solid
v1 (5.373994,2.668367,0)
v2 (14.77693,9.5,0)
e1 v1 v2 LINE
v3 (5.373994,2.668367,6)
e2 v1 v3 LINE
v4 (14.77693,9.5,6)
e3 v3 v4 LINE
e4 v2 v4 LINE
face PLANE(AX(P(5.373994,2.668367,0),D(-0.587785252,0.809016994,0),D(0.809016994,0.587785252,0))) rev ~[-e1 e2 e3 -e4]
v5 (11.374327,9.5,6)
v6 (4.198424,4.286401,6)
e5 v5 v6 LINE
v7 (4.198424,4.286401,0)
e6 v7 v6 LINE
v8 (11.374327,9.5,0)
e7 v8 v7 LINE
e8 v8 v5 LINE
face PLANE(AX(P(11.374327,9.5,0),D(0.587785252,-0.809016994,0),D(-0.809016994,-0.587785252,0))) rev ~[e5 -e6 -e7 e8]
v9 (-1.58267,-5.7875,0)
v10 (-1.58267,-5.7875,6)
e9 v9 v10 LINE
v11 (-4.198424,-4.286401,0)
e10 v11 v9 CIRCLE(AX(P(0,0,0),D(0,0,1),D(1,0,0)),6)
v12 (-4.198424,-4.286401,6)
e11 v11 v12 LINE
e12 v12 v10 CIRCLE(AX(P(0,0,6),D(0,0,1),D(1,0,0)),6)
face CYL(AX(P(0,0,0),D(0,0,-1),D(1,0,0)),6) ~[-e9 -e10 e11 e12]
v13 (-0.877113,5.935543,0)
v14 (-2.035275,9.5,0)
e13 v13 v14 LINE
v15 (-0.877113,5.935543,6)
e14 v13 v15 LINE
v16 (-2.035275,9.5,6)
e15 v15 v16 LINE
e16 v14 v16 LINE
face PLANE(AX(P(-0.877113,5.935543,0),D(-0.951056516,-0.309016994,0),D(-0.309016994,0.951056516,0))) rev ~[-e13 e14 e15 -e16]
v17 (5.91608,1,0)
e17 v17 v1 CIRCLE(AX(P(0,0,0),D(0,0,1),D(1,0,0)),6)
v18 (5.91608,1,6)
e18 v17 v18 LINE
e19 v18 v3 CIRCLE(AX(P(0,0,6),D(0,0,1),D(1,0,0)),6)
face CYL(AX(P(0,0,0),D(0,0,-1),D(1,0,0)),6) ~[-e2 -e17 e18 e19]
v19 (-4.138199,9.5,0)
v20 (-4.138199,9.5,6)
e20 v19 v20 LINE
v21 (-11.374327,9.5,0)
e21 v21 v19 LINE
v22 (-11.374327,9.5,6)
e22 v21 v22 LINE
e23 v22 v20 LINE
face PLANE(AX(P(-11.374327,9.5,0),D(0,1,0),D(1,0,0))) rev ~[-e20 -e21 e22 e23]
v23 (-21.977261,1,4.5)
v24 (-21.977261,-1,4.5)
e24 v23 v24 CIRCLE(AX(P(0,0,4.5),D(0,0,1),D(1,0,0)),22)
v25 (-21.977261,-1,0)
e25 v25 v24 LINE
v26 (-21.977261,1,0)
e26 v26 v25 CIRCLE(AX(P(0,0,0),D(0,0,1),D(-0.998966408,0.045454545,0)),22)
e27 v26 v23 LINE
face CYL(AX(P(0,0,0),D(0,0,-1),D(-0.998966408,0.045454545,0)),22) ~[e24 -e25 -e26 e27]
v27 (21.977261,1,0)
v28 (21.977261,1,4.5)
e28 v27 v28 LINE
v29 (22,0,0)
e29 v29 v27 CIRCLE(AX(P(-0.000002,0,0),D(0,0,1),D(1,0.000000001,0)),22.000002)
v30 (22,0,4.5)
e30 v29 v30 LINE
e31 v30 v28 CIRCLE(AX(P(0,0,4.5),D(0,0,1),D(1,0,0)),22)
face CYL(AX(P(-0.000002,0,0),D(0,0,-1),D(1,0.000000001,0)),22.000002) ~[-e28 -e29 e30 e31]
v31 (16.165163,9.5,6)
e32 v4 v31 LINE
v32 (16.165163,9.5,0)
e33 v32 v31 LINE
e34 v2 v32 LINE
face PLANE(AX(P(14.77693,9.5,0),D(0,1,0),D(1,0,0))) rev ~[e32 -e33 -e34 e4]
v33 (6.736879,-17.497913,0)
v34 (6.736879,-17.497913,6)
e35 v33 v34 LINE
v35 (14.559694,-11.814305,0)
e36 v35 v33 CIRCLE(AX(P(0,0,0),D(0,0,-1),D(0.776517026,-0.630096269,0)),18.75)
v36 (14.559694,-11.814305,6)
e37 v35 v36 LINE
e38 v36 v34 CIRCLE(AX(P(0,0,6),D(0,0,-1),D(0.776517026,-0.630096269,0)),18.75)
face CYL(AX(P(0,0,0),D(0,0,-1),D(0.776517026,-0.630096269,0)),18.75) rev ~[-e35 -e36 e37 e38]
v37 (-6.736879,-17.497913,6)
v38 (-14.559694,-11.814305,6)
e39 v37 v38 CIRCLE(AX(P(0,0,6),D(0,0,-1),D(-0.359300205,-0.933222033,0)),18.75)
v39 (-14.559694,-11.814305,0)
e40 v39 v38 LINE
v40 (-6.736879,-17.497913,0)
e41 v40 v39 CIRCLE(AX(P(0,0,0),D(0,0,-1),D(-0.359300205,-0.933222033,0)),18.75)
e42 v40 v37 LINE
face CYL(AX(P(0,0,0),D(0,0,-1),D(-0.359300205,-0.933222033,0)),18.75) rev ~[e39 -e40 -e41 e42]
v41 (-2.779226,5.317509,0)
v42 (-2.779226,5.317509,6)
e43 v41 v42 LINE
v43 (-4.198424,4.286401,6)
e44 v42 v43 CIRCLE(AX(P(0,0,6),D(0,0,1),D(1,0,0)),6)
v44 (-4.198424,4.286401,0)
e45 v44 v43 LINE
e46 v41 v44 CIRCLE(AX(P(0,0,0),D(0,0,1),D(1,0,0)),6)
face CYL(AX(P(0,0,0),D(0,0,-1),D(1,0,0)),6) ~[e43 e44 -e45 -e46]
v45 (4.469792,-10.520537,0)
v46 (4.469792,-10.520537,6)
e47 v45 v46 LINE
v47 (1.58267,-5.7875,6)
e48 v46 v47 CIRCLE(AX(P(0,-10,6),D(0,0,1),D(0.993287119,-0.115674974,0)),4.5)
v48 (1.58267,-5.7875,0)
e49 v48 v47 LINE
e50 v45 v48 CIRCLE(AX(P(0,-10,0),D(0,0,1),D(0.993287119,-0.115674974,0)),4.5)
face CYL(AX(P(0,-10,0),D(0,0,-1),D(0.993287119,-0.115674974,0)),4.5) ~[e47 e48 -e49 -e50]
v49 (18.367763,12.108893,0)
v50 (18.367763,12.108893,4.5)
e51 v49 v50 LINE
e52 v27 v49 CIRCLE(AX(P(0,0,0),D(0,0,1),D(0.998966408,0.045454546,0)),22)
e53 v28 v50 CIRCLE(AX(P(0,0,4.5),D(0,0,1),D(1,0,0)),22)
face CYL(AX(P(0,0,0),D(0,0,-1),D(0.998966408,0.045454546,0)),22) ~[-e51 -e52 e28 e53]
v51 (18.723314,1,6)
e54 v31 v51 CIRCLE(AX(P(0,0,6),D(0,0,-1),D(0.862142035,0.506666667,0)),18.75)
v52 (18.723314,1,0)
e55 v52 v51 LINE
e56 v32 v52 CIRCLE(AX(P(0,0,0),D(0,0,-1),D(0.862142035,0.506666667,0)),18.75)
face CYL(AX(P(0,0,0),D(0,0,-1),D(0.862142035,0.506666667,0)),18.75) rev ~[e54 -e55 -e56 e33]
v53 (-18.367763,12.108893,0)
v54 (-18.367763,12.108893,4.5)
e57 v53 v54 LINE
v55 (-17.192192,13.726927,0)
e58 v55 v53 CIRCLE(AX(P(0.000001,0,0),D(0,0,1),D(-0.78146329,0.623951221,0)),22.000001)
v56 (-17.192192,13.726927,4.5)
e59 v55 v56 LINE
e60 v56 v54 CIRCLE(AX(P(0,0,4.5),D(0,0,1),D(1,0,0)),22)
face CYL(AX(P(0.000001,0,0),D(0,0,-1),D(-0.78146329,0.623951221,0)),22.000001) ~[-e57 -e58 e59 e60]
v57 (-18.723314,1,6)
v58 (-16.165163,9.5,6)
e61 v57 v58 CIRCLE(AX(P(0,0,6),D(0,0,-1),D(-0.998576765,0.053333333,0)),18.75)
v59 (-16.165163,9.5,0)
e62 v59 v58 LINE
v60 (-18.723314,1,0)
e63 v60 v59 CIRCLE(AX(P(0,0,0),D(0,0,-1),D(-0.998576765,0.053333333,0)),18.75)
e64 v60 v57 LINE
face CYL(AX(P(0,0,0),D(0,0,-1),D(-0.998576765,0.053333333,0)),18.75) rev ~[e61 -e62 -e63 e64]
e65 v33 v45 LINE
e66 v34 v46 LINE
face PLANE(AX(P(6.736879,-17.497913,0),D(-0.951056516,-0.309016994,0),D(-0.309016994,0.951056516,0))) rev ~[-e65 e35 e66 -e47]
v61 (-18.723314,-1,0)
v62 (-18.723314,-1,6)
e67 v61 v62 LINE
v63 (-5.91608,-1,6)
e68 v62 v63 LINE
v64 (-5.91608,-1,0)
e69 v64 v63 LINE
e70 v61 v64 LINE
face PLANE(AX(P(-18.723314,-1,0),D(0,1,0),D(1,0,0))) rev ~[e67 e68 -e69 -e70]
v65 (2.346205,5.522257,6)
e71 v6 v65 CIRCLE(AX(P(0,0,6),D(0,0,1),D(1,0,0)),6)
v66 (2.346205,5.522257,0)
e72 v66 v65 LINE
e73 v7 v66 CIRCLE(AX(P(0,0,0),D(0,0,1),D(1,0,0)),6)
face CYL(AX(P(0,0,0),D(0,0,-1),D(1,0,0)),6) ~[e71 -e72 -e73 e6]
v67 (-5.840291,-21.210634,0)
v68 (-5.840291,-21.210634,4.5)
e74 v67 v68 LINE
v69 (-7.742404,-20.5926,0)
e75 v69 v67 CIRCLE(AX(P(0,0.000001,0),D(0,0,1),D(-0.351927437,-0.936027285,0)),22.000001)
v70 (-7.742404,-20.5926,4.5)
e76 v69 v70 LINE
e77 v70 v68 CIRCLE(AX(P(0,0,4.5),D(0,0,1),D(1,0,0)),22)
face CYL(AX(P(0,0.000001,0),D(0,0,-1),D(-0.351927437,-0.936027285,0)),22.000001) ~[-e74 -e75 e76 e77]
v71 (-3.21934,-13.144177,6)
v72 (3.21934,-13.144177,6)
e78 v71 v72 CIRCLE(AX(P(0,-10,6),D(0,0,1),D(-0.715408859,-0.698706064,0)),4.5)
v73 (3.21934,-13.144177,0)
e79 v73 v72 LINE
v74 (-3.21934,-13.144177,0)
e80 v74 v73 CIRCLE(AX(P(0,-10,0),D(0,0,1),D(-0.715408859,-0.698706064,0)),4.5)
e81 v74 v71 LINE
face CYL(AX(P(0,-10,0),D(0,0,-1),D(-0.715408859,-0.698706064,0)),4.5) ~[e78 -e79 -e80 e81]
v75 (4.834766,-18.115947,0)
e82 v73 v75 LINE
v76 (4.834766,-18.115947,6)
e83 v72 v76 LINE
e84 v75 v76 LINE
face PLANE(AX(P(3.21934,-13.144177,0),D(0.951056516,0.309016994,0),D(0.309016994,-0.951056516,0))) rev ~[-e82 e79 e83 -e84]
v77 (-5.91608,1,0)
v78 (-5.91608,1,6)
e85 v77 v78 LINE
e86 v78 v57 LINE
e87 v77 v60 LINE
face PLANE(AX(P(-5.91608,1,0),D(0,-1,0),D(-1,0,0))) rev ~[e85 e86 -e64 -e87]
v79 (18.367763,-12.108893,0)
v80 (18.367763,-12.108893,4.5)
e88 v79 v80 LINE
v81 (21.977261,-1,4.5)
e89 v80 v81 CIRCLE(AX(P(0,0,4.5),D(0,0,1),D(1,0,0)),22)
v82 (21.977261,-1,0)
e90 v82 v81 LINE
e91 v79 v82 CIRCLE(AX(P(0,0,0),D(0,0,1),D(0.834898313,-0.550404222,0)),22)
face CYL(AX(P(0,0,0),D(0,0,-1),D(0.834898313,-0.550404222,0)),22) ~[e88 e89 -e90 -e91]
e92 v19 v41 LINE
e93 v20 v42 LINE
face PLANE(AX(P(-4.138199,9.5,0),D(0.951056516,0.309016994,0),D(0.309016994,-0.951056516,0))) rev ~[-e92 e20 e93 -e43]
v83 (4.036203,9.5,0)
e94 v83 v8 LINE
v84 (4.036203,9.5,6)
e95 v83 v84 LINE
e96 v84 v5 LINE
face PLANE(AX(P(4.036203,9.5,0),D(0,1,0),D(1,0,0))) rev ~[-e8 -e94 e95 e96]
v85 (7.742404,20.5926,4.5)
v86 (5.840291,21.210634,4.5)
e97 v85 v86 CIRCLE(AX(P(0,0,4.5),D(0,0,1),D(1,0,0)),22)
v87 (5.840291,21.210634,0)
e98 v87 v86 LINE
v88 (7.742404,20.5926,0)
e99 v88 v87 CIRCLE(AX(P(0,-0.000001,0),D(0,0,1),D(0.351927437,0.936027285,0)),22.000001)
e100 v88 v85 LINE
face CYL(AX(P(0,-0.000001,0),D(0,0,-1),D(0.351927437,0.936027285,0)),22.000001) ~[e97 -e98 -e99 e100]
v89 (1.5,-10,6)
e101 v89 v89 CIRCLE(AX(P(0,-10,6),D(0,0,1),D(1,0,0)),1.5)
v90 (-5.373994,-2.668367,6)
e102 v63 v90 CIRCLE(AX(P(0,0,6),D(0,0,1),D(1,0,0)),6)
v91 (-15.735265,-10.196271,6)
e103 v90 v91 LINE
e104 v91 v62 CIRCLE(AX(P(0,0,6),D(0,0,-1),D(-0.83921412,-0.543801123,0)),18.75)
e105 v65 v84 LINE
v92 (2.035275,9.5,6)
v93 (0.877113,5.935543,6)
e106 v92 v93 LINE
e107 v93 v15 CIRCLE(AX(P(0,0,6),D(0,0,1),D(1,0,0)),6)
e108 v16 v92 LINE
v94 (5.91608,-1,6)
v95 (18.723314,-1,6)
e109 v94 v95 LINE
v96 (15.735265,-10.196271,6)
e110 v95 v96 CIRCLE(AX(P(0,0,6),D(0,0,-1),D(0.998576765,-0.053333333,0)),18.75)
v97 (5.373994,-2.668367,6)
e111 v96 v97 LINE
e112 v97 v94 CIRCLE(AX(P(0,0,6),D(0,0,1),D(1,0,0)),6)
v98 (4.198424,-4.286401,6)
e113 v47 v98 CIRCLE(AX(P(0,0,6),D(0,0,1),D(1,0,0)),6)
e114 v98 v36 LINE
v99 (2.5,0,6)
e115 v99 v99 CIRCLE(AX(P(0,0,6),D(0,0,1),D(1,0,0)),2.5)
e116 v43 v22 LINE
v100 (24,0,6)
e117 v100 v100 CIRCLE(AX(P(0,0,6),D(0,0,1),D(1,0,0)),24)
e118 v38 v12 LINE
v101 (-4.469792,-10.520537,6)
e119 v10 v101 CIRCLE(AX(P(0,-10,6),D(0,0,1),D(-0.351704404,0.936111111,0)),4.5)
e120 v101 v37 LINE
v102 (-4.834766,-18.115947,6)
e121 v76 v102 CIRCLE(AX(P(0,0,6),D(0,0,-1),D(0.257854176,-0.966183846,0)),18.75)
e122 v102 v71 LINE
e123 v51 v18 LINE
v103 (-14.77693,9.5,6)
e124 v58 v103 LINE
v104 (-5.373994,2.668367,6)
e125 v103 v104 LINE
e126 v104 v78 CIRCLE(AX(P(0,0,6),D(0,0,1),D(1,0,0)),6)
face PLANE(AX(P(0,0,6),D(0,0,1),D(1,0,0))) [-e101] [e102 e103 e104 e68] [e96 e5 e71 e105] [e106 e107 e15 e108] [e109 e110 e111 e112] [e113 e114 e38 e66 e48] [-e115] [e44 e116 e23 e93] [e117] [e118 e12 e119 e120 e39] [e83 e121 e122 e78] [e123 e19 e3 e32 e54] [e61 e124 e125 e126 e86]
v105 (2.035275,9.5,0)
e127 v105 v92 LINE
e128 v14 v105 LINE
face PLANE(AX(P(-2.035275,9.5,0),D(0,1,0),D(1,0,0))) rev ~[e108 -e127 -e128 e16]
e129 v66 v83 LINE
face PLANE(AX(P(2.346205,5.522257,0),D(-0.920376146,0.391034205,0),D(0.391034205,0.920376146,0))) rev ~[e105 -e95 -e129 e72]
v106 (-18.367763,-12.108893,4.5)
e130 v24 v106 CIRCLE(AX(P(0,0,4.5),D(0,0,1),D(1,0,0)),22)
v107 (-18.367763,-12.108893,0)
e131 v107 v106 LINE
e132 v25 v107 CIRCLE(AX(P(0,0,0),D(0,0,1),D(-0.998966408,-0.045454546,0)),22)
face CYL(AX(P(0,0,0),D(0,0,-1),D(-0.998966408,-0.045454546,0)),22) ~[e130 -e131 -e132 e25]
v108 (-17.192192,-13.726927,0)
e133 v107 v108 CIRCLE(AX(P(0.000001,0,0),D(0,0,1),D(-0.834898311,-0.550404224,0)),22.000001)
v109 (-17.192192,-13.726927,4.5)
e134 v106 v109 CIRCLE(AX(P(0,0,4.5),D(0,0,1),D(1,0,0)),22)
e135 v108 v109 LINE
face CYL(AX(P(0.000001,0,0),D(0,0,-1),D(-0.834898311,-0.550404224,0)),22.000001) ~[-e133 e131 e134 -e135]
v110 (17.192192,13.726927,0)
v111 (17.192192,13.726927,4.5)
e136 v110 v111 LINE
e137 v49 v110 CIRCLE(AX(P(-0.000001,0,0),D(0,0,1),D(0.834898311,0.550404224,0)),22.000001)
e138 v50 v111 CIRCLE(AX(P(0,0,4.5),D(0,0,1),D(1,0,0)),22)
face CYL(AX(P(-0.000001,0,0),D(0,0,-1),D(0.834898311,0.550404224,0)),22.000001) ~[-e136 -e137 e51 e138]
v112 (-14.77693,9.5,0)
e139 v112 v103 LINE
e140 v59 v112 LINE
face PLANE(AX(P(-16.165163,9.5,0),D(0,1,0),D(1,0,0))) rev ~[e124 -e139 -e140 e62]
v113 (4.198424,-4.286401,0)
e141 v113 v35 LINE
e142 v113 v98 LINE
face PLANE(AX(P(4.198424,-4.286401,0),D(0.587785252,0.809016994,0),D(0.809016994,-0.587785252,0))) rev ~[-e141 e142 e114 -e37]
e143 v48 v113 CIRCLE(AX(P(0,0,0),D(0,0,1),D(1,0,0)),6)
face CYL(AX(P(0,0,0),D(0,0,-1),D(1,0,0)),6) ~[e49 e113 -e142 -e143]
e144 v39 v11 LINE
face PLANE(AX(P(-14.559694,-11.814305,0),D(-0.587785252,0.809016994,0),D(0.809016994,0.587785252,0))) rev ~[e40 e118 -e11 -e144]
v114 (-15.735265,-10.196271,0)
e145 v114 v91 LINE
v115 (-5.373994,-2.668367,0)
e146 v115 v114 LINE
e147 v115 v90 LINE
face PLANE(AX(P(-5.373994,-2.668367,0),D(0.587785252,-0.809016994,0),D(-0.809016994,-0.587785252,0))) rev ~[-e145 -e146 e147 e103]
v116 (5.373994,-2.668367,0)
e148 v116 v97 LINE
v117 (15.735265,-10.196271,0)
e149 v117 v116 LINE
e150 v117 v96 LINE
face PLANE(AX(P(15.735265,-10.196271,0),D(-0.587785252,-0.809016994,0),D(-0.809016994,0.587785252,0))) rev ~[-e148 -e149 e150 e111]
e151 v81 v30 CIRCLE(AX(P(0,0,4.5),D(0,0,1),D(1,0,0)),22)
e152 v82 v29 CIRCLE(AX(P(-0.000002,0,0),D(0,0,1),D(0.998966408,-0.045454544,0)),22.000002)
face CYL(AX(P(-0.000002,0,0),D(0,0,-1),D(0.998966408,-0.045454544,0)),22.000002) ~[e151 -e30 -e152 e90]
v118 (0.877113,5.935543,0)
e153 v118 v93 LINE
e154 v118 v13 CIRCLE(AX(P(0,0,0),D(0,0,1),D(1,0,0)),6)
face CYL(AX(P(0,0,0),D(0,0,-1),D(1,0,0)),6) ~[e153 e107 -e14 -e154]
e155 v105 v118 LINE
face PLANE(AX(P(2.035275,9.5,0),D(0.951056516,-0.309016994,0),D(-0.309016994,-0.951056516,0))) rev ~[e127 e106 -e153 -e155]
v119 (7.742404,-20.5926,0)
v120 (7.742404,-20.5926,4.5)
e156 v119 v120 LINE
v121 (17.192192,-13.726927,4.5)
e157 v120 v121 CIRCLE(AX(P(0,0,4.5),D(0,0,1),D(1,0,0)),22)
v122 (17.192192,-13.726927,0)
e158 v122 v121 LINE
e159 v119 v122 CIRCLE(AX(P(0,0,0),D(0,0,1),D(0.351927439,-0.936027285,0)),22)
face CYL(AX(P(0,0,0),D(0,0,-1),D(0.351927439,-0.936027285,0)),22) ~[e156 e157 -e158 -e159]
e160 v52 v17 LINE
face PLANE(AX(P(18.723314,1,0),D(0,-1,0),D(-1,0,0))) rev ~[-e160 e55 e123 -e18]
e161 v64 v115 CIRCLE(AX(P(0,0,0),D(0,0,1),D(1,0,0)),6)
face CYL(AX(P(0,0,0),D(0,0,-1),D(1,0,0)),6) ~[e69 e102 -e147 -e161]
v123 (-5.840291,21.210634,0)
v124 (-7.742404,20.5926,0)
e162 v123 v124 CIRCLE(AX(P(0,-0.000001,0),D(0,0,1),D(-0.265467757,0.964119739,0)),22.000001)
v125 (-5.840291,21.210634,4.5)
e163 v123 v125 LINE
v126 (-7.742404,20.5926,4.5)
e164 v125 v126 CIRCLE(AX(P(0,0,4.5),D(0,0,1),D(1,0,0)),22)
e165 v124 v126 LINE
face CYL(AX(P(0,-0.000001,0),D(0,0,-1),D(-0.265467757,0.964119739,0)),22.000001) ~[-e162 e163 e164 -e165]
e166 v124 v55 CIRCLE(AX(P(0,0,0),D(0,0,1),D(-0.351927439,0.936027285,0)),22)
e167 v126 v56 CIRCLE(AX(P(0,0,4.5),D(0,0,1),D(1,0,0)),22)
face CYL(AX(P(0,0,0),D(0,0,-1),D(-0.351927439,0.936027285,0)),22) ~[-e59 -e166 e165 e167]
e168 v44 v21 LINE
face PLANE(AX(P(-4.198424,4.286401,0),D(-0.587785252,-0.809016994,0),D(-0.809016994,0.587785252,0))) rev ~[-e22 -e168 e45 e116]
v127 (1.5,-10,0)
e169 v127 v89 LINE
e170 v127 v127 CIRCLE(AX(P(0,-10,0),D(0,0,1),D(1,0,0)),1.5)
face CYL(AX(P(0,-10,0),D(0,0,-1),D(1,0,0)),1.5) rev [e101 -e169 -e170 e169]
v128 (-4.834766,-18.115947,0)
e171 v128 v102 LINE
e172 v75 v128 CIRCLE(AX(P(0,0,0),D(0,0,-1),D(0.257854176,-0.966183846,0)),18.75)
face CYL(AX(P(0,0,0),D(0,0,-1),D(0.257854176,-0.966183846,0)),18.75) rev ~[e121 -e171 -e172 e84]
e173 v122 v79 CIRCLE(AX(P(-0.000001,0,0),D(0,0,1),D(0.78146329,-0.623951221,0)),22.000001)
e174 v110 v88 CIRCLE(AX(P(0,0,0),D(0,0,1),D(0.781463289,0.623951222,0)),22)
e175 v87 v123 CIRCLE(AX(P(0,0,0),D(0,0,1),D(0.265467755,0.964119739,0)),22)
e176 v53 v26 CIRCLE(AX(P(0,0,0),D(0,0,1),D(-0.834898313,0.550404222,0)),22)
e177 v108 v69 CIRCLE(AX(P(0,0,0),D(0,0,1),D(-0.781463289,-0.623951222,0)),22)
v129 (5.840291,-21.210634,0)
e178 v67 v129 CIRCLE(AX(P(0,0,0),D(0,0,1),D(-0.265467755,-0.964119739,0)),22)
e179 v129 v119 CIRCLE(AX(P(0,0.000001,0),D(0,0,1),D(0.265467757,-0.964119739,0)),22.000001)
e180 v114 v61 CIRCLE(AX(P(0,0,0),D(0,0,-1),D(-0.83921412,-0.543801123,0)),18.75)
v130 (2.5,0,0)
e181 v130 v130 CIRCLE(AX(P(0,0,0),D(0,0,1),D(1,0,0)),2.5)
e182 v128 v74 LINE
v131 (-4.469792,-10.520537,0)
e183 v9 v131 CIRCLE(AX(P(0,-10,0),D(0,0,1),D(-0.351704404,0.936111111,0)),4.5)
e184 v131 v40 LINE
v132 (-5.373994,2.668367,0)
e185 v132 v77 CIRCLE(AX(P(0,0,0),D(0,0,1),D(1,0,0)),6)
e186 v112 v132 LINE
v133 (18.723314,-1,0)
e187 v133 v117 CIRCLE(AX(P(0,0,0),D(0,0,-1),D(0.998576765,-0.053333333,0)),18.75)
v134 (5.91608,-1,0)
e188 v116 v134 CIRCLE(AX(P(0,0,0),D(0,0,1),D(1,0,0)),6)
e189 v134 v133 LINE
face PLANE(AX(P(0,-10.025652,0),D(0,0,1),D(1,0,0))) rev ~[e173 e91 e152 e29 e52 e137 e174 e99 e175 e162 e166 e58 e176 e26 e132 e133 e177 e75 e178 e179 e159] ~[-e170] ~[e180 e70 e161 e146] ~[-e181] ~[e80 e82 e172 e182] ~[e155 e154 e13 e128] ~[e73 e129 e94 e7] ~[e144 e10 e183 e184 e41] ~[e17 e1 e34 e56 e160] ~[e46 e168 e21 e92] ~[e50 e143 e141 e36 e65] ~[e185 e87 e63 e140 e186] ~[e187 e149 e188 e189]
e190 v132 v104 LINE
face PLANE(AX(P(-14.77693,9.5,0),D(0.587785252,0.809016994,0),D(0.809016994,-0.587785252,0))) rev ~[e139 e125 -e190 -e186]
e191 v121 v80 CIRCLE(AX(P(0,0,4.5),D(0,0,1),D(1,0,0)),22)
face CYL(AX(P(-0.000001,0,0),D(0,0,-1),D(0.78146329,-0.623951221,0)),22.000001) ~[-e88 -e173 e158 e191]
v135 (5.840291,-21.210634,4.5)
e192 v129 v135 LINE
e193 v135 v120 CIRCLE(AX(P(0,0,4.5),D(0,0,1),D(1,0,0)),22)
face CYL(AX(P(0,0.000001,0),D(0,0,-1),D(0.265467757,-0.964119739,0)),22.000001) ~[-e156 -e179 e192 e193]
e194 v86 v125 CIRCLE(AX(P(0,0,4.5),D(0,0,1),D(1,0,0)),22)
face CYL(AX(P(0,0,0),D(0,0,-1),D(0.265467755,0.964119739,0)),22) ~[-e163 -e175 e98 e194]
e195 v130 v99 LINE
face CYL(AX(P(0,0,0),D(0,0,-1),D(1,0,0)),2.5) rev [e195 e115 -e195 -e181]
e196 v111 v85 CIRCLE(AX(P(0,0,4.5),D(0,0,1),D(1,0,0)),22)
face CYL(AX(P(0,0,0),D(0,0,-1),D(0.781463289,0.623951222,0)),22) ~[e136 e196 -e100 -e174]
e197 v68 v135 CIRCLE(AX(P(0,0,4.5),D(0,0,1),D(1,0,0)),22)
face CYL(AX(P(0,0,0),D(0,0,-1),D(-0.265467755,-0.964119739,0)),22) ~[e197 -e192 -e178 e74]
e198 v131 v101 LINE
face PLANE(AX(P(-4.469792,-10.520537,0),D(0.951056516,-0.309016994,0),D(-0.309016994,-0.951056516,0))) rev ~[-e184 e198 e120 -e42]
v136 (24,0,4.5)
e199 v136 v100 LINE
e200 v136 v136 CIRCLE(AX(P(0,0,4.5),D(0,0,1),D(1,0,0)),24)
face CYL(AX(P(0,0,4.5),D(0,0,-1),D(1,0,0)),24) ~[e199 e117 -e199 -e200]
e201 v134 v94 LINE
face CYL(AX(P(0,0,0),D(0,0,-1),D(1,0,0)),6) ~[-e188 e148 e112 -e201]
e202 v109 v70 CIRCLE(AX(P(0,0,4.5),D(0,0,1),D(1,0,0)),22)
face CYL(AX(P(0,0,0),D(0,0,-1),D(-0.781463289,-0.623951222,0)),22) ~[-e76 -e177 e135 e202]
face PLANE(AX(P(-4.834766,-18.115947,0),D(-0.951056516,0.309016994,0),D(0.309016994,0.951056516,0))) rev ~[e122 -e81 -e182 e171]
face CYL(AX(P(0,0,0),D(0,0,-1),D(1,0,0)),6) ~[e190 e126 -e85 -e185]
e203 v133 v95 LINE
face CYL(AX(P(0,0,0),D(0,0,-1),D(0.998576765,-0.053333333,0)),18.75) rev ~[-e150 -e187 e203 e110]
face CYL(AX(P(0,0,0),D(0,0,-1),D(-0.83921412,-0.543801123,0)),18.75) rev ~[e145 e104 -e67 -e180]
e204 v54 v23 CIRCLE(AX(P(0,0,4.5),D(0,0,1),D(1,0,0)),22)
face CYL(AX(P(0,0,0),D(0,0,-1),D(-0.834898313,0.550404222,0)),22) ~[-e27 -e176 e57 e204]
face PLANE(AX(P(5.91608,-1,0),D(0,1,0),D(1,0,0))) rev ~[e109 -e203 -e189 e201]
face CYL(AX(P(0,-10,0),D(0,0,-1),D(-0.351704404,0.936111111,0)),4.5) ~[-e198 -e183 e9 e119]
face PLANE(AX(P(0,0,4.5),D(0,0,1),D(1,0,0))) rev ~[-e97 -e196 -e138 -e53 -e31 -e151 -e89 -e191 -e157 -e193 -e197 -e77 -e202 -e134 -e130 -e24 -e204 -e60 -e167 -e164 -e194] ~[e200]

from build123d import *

# Parameters (mm, degrees)
ESQUISSE1_R        = 6
ESQUISSE1_R_2      = 2.5
ESQUISSE1_R_3      = 1.5
BOSS_EXTRU_1_DEPTH = 6
BOSS_EXTRU_2_START = -1.5
ESQUISSE3_R        = 24
ESQUISSE3_R_2      = 22
BOSS_EXTRU_2_DEPTH = 1.5


with BuildPart() as part:
    # Esquisse1 → Boss.-Extru.1 (new body)
    # profile 1 of 61: a face of its own
    with BuildSketch(Plane.XY):
        Circle(ESQUISSE1_R)
        Circle(ESQUISSE1_R_2, mode=Mode.SUBTRACT)
    # profile 2 of 61: a face of its own
    with BuildSketch(Plane.XY):
        with BuildLine():
            Line((-14.776929861, 9.5), (-5.373994337, 2.668367454))
            ThreePointArc((-5.373994337, 2.668367454), (-4.854101966, 3.526711514), (-4.198423832, 4.286401442))
            Line((-4.198423832, 4.286401442), (-11.374326628, 9.5))
            Line((-11.374326628, 9.5), (-14.776929861, 9.5))
        make_face()
    # profile 3 of 61: a face of its own
    with BuildSketch(Plane.XY):
        with BuildLine():
            Line((-14.559694243, 11.814305039), (-11.374326628, 9.5))
            Line((-11.374326628, 9.5), (-4.138199338, 9.5))
            Line((-4.138199338, 9.5), (-4.469792035, 10.520537382))
            Line((-4.469792035, 10.520537382), (-6.736878839, 17.497913119))
            ThreePointArc((-6.736878839, 17.497913119), (-11.02097348, 15.169068645), (-14.559694243, 11.814305039))
        make_face()
    # profile 4 of 61: a face of its own
    with BuildSketch(Plane.XY):
        with BuildLine():
            Line((-4.138199338, 9.5), (-2.03527489, 9.5))
            Line((-2.03527489, 9.5), (-3.219339867, 13.144177288))
            Line((-3.219339867, 13.144177288), (-4.834765807, 18.115947107))
            ThreePointArc((-4.834765807, 18.115947107), (-5.794068645, 17.832309681), (-6.736878839, 17.497913119))
            Line((-6.736878839, 17.497913119), (-4.469792035, 10.520537382))
            Line((-4.469792035, 10.520537382), (-4.138199338, 9.5))
        make_face()
    # profile 5 of 61: a face of its own
    with BuildSketch(Plane.XY):
        with BuildLine():
            Line((-2.03527489, 9.5), (2.03527489, 9.5))
            Line((2.03527489, 9.5), (3.219339867, 13.144177288))
            Line((3.219339867, 13.144177288), (4.834765807, 18.115947107))
            ThreePointArc((4.834765807, 18.115947107), (0, 18.75), (-4.834765807, 18.115947107))
            Line((-4.834765807, 18.115947107), (-3.219339867, 13.144177288))
            Line((-3.219339867, 13.144177288), (-2.03527489, 9.5))
        make_face()
    # profile 6 of 61: a face of its own
    with BuildSketch(Plane.XY):
        with BuildLine():
            Line((2.03527489, 9.5), (4.03620298, 9.5))
            Line((4.03620298, 9.5), (4.469792035, 10.520537382))
            Line((4.469792035, 10.520537382), (6.736878839, 17.497913119))
            ThreePointArc((6.736878839, 17.497913119), (5.794068645, 17.832309681), (4.834765807, 18.115947107))
            Line((4.834765807, 18.115947107), (3.219339867, 13.144177288))
            Line((3.219339867, 13.144177288), (2.03527489, 9.5))
        make_face()
    # profile 7 of 61: a face of its own
    with BuildSketch(Plane.XY):
        with BuildLine():
            Line((4.03620298, 9.5), (11.374326628, 9.5))
            Line((11.374326628, 9.5), (14.559694243, 11.814305039))
            ThreePointArc((14.559694243, 11.814305039), (11.02097348, 15.169068645), (6.736878839, 17.497913119))
            Line((6.736878839, 17.497913119), (4.469792035, 10.520537382))
            Line((4.469792035, 10.520537382), (4.03620298, 9.5))
        make_face()
    # profile 8 of 61: a face of its own
    with BuildSketch(Plane.XY):
        with BuildLine():
            Line((11.374326628, 9.5), (14.776929861, 9.5))
            Line((14.776929861, 9.5), (15.735264747, 10.196271051))
            ThreePointArc((15.735264747, 10.196271051), (15.169068645, 11.02097348), (14.559694243, 11.814305039))
            Line((14.559694243, 11.814305039), (11.374326628, 9.5))
        make_face()
    # profile 9 of 61: a face of its own
    with BuildSketch(Plane.XY):
        with BuildLine():
            ThreePointArc((4.198423832, 4.286401442), (4.854101966, 3.526711514), (5.373994337, 2.668367454))
            Line((5.373994337, 2.668367454), (14.776929861, 9.5))
            Line((14.776929861, 9.5), (11.374326628, 9.5))
            Line((11.374326628, 9.5), (4.198423832, 4.286401442))
        make_face()
    # profile 10 of 61: a face of its own
    with BuildSketch(Plane.XY):
        with BuildLine():
            ThreePointArc((0.877112677, 5.935543223), (1.624852602, 5.775798994), (2.346205228, 5.522256878))
            Line((2.346205228, 5.522256878), (4.03620298, 9.5))
            Line((4.03620298, 9.5), (2.03527489, 9.5))
            Line((2.03527489, 9.5), (0.877112677, 5.935543223))
        make_face()
    # profile 11 of 61: a face of its own
    with BuildSketch(Plane.XY):
        with BuildLine():
            ThreePointArc((-2.779225709, 5.317509234), (-1.854101966, 5.706339098), (-0.877112677, 5.935543223))
            Line((-0.877112677, 5.935543223), (-2.03527489, 9.5))
            Line((-2.03527489, 9.5), (-4.138199338, 9.5))
            Line((-4.138199338, 9.5), (-2.779225709, 5.317509234))
        make_face()
    # profile 12 of 61: a face of its own
    with BuildSketch(Plane.XY):
        with BuildLine():
            Line((-14.559694243, -11.814305039), (-4.198423832, -4.286401442))
            ThreePointArc((-4.198423832, -4.286401442), (-4.854101966, -3.526711514), (-5.373994337, -2.668367454))
            Line((-5.373994337, -2.668367454), (-15.735264747, -10.196271051))
            ThreePointArc((-15.735264747, -10.196271051), (-15.169068645, -11.02097348), (-14.559694243, -11.814305039))
        make_face()
    # profile 13 of 61: a face of its own
    with BuildSketch(Plane.XY):
        with BuildLine():
            Line((-18.723314343, -1), (-5.916079783, -1))
            ThreePointArc((-5.916079783, -1), (-6, 0), (-5.916079783, 1))
            Line((-5.916079783, 1), (-18.723314343, 1))
            ThreePointArc((-18.723314343, 1), (-18.75, 0), (-18.723314343, -1))
        make_face()
    # profile 14 of 61: a face of its own
    with BuildSketch(Plane.XY):
        with BuildLine():
            ThreePointArc((6, 0), (5.978983137, -0.501757562), (5.916079783, -1))
            Line((5.916079783, -1), (18.723314343, -1))
            ThreePointArc((18.723314343, -1), (18.743327399, -0.500177999), (18.75, 0))
            ThreePointArc((18.75, 0), (18.743327399, 0.500177999), (18.723314343, 1))
            Line((18.723314343, 1), (5.916079783, 1))
            ThreePointArc((5.916079783, 1), (5.978983137, 0.501757562), (6, 0))
        make_face()
    # profile 15 of 61: a face of its own
    with BuildSketch(Plane.XY):
        with BuildLine():
            ThreePointArc((18.723314343, -1), (17.832309681, -5.794068645), (15.735264747, -10.196271051))
            Line((15.735264747, -10.196271051), (16.342858961, -10.637714087))
            ThreePointArc((16.342858961, -10.637714087), (18.545602068, -6.02583139), (19.474342094, -1))
            Line((19.474342094, -1), (18.723314343, -1))
        make_face()
    # profile 16 of 61: a face of its own
    with BuildSketch(Plane.XY):
        with BuildLine():
            ThreePointArc((18.75, 0), (18.743327399, -0.500177999), (18.723314343, -1))
            Line((18.723314343, -1), (19.474342094, -1))
            ThreePointArc((19.474342094, -1), (19.493584468, -0.500164555), (19.5, 0))
            ThreePointArc((19.5, 0), (19.493584468, 0.500164555), (19.474342094, 1))
            Line((19.474342094, 1), (18.723314343, 1))
            ThreePointArc((18.723314343, 1), (18.743327399, 0.500177999), (18.75, 0))
        make_face()
    # profile 17 of 61: a face of its own
    with BuildSketch(Plane.XY):
        with BuildLine():
            ThreePointArc((16.16516316, 9.5), (17.954497087, 5.403566819), (18.723314343, 1))
            Line((18.723314343, 1), (19.474342094, 1))
            ThreePointArc((19.474342094, 1), (18.545602068, 6.02583139), (16.342858961, 10.637714087))
            Line((16.342858961, 10.637714087), (15.735264747, 10.196271051))
            ThreePointArc((15.735264747, 10.196271051), (15.954012771, 9.850481028), (16.16516316, 9.5))
        make_face()
    # profile 18 of 61: a face of its own
    with BuildSketch(Plane.XY):
        with BuildLine():
            Line((15.735264747, 10.196271051), (16.342858961, 10.637714087))
            ThreePointArc((16.342858961, 10.637714087), (15.77583139, 11.46181242), (15.167288456, 12.255748075))
            Line((15.167288456, 12.255748075), (14.559694243, 11.814305039))
            ThreePointArc((14.559694243, 11.814305039), (15.169068645, 11.02097348), (15.735264747, 10.196271051))
        make_face()
    # profile 19 of 61: a face of its own
    with BuildSketch(Plane.XY):
        with BuildLine():
            Line((14.559694243, 11.814305039), (15.167288456, 12.255748075))
            ThreePointArc((15.167288456, 12.255748075), (11.46181242, 15.77583139), (6.968959178, 18.212182955))
            Line((6.968959178, 18.212182955), (6.736878839, 17.497913119))
            ThreePointArc((6.736878839, 17.497913119), (11.02097348, 15.169068645), (14.559694243, 11.814305039))
        make_face()
    # profile 20 of 61: a face of its own
    with BuildSketch(Plane.XY):
        with BuildLine():
            Line((6.736878839, 17.497913119), (6.968959178, 18.212182955))
            ThreePointArc((6.968959178, 18.212182955), (6.02583139, 18.545602068), (5.066846145, 18.830216944))
            Line((5.066846145, 18.830216944), (4.834765807, 18.115947107))
            ThreePointArc((4.834765807, 18.115947107), (5.794068645, 17.832309681), (6.736878839, 17.497913119))
        make_face()
    # profile 21 of 61: a face of its own
    with BuildSketch(Plane.XY):
        with BuildLine():
            Line((4.834765807, 18.115947107), (5.066846145, 18.830216944))
            ThreePointArc((5.066846145, 18.830216944), (0, 19.5), (-5.066846145, 18.830216944))
            Line((-5.066846145, 18.830216944), (-4.834765807, 18.115947107))
            ThreePointArc((-4.834765807, 18.115947107), (0, 18.75), (4.834765807, 18.115947107))
        make_face()
    # profile 22 of 61: a face of its own
    with BuildSketch(Plane.XY):
        with BuildLine():
            Line((-4.834765807, 18.115947107), (-5.066846145, 18.830216944))
            ThreePointArc((-5.066846145, 18.830216944), (-6.02583139, 18.545602068), (-6.968959178, 18.212182955))
            Line((-6.968959178, 18.212182955), (-6.736878839, 17.497913119))
            ThreePointArc((-6.736878839, 17.497913119), (-5.794068645, 17.832309681), (-4.834765807, 18.115947107))
        make_face()
    # profile 23 of 61: a face of its own
    with BuildSketch(Plane.XY):
        with BuildLine():
            Line((-6.736878839, 17.497913119), (-6.968959178, 18.212182955))
            ThreePointArc((-6.968959178, 18.212182955), (-11.46181242, 15.77583139), (-15.167288456, 12.255748075))
            Line((-15.167288456, 12.255748075), (-14.559694243, 11.814305039))
            ThreePointArc((-14.559694243, 11.814305039), (-11.02097348, 15.169068645), (-6.736878839, 17.497913119))
        make_face()
    # profile 24 of 61: a face of its own
    with BuildSketch(Plane.XY):
        with BuildLine():
            ThreePointArc((-15.167288456, 12.255748075), (-15.77583139, 11.46181242), (-16.342858961, 10.637714087))
            Line((-16.342858961, 10.637714087), (-15.735264747, 10.196271051))
            ThreePointArc((-15.735264747, 10.196271051), (-15.169068645, 11.02097348), (-14.559694243, 11.814305039))
            Line((-14.559694243, 11.814305039), (-15.167288456, 12.255748075))
        make_face()
    # profile 25 of 61: a face of its own
    with BuildSketch(Plane.XY):
        with BuildLine():
            Line((-19.474342094, 1), (-18.723314343, 1))
            ThreePointArc((-18.723314343, 1), (-17.954497087, 5.403566819), (-16.16516316, 9.5))
            ThreePointArc((-16.16516316, 9.5), (-15.954012771, 9.850481028), (-15.735264747, 10.196271051))
            Line((-15.735264747, 10.196271051), (-16.342858961, 10.637714087))
            ThreePointArc((-16.342858961, 10.637714087), (-18.545602068, 6.02583139), (-19.474342094, 1))
        make_face()
    # profile 26 of 61: a face of its own
    with BuildSketch(Plane.XY):
        with BuildLine():
            Line((-19.474342094, -1), (-18.723314343, -1))
            ThreePointArc((-18.723314343, -1), (-18.75, 0), (-18.723314343, 1))
            Line((-18.723314343, 1), (-19.474342094, 1))
            ThreePointArc((-19.474342094, 1), (-19.5, 0), (-19.474342094, -1))
        make_face()
    # profile 27 of 61: a face of its own
    with BuildSketch(Plane.XY):
        with BuildLine():
            Line((-16.342858961, -10.637714087), (-15.735264747, -10.196271051))
            ThreePointArc((-15.735264747, -10.196271051), (-17.832309681, -5.794068645), (-18.723314343, -1))
            Line((-18.723314343, -1), (-19.474342094, -1))
            ThreePointArc((-19.474342094, -1), (-18.545602068, -6.02583139), (-16.342858961, -10.637714087))
        make_face()
    # profile 28 of 61: a face of its own
    with BuildSketch(Plane.XY):
        with BuildLine():
            Line((-15.167288456, -12.255748075), (-14.559694243, -11.814305039))
            ThreePointArc((-14.559694243, -11.814305039), (-15.169068645, -11.02097348), (-15.735264747, -10.196271051))
            Line((-15.735264747, -10.196271051), (-16.342858961, -10.637714087))
            ThreePointArc((-16.342858961, -10.637714087), (-15.77583139, -11.46181242), (-15.167288456, -12.255748075))
        make_face()
    # profile 29 of 61: a face of its own
    with BuildSketch(Plane.XY):
        with BuildLine():
            Line((5.840290615, -21.210634256), (5.066846145, -18.830216944))
            ThreePointArc((5.066846145, -18.830216944), (0, -19.5), (-5.066846145, -18.830216944))
            Line((-5.066846145, -18.830216944), (-5.840290615, -21.210634256))
            ThreePointArc((-5.840290615, -21.210634256), (0, -22), (5.840290615, -21.210634256))
        make_face()
    # profile 30 of 61: a face of its own
    with BuildSketch(Plane.XY):
        with BuildLine():
            Line((-17.192192367, -13.726926882), (-15.167288456, -12.255748075))
            ThreePointArc((-15.167288456, -12.255748075), (-15.77583139, -11.46181242), (-16.342858961, -10.637714087))
            Line((-16.342858961, -10.637714087), (-18.367762872, -12.108892893))
            ThreePointArc((-18.367762872, -12.108892893), (-17.798373876, -12.93127555), (-17.192192367, -13.726926882))
        make_face()
    # profile 31 of 61: a face of its own
    with BuildSketch(Plane.XY):
        with BuildLine():
            Line((-5.840290615, -21.210634256), (-5.066846145, -18.830216944))
            ThreePointArc((-5.066846145, -18.830216944), (-6.02583139, -18.545602068), (-6.968959178, -18.212182955))
            Line((-6.968959178, -18.212182955), (-7.742403648, -20.592600267))
            ThreePointArc((-7.742403648, -20.592600267), (-6.798373876, -20.923243358), (-5.840290615, -21.210634256))
        make_face()
    # profile 32 of 61: a face of its own
    with BuildSketch(Plane.XY):
        with BuildLine():
            ThreePointArc((-3.219339867, -13.144177288), (-4.06221109, -11.936089115), (-4.469792035, -10.520537382))
            Line((-4.469792035, -10.520537382), (-6.736878839, -17.497913119))
            ThreePointArc((-6.736878839, -17.497913119), (-5.794068645, -17.832309681), (-4.834765807, -18.115947107))
            Line((-4.834765807, -18.115947107), (-3.219339867, -13.144177288))
        make_face()
    # profile 33 of 61: a face of its own
    with BuildSketch(Plane.XY):
        with BuildLine():
            ThreePointArc((4.834765807, -18.115947107), (5.794068645, -17.832309681), (6.736878839, -17.497913119))
            Line((6.736878839, -17.497913119), (4.469792035, -10.520537382))
            ThreePointArc((4.469792035, -10.520537382), (4.06221109, -11.936089115), (3.219339867, -13.144177288))
            Line((3.219339867, -13.144177288), (4.834765807, -18.115947107))
        make_face()
    # profile 34 of 61: a face of its own
    with BuildSketch(Plane.XY):
        with BuildLine():
            Line((7.742403648, -20.592600267), (6.968959178, -18.212182955))
            ThreePointArc((6.968959178, -18.212182955), (6.02583139, -18.545602068), (5.066846145, -18.830216944))
            Line((5.066846145, -18.830216944), (5.840290615, -21.210634256))
            ThreePointArc((5.840290615, -21.210634256), (6.798373876, -20.923243358), (7.742403648, -20.592600267))
        make_face()
    # profile 35 of 61: a face of its own
    with BuildSketch(Plane.XY):
        with BuildLine():
            Line((17.192192367, -13.726926882), (15.167288456, -12.255748075))
            ThreePointArc((15.167288456, -12.255748075), (11.46181242, -15.77583139), (6.968959178, -18.212182955))
            Line((6.968959178, -18.212182955), (7.742403648, -20.592600267))
            ThreePointArc((7.742403648, -20.592600267), (12.93127555, -17.798373876), (17.192192367, -13.726926882))
        make_face()
    # profile 36 of 61: a face of its own
    with BuildSketch(Plane.XY):
        with BuildLine():
            Line((16.342858961, -10.637714087), (15.735264747, -10.196271051))
            ThreePointArc((15.735264747, -10.196271051), (15.169068645, -11.02097348), (14.559694243, -11.814305039))
            Line((14.559694243, -11.814305039), (15.167288456, -12.255748075))
            ThreePointArc((15.167288456, -12.255748075), (15.77583139, -11.46181242), (16.342858961, -10.637714087))
        make_face()
    # profile 37 of 61: a face of its own
    with BuildSketch(Plane.XY):
        with BuildLine():
            Line((15.167288456, -12.255748075), (14.559694243, -11.814305039))
            ThreePointArc((14.559694243, -11.814305039), (11.02097348, -15.169068645), (6.736878839, -17.497913119))
            Line((6.736878839, -17.497913119), (6.968959178, -18.212182955))
            ThreePointArc((6.968959178, -18.212182955), (11.46181242, -15.77583139), (15.167288456, -12.255748075))
        make_face()
    # profile 38 of 61: a face of its own
    with BuildSketch(Plane.XY):
        with BuildLine():
            Line((15.735264747, -10.196271051), (5.373994337, -2.668367454))
            ThreePointArc((5.373994337, -2.668367454), (4.854101966, -3.526711514), (4.198423832, -4.286401442))
            Line((4.198423832, -4.286401442), (14.559694243, -11.814305039))
            ThreePointArc((14.559694243, -11.814305039), (15.169068645, -11.02097348), (15.735264747, -10.196271051))
        make_face()
    # profile 39 of 61: a face of its own
    with BuildSketch(Plane.XY):
        with BuildLine():
            Line((-15.735264747, 10.196271051), (-14.776929861, 9.5))
            Line((-14.776929861, 9.5), (-11.374326628, 9.5))
            Line((-11.374326628, 9.5), (-14.559694243, 11.814305039))
            ThreePointArc((-14.559694243, 11.814305039), (-15.169068645, 11.02097348), (-15.735264747, 10.196271051))
        make_face()
    # profile 40 of 61: a face of its own
    with BuildSketch(Plane.XY):
        with BuildLine():
            ThreePointArc((-15.735264747, 10.196271051), (-15.954012771, 9.850481028), (-16.16516316, 9.5))
            Line((-16.16516316, 9.5), (-14.776929861, 9.5))
            Line((-14.776929861, 9.5), (-15.735264747, 10.196271051))
        make_face()
    # profile 41 of 61: a face of its own
    with BuildSketch(Plane.XY):
        with BuildLine():
            Line((14.776929861, 9.5), (16.16516316, 9.5))
            ThreePointArc((16.16516316, 9.5), (15.954012771, 9.850481028), (15.735264747, 10.196271051))
            Line((15.735264747, 10.196271051), (14.776929861, 9.5))
        make_face()
    # profile 42 of 61: a face of its own
    with BuildSketch(Plane.XY):
        with BuildLine():
            ThreePointArc((15.167288456, 12.255748075), (15.77583139, 11.46181242), (16.342858961, 10.637714087))
            Line((16.342858961, 10.637714087), (18.367762872, 12.108892893))
            ThreePointArc((18.367762872, 12.108892893), (17.798373876, 12.93127555), (17.192192367, 13.726926882))
            Line((17.192192367, 13.726926882), (15.167288456, 12.255748075))
        make_face()
    # profile 43 of 61: a face of its own
    with BuildSketch(Plane.XY):
        with BuildLine():
            ThreePointArc((16.342858961, 10.637714087), (18.545602068, 6.02583139), (19.474342094, 1))
            Line((19.474342094, 1), (21.977260976, 1))
            ThreePointArc((21.977260976, 1), (20.923243358, 6.798373876), (18.367762872, 12.108892893))
            Line((18.367762872, 12.108892893), (16.342858961, 10.637714087))
        make_face()
    # profile 44 of 61: a face of its own
    with BuildSketch(Plane.XY):
        with BuildLine():
            ThreePointArc((19.5, 0), (19.493584468, -0.500164555), (19.474342094, -1))
            Line((19.474342094, -1), (21.977260976, -1))
            ThreePointArc((21.977260976, -1), (21.994314509, -0.500129249), (22, 0))
            ThreePointArc((22, 0), (21.994314509, 0.500129249), (21.977260976, 1))
            Line((21.977260976, 1), (19.474342094, 1))
            ThreePointArc((19.474342094, 1), (19.493584468, 0.500164555), (19.5, 0))
        make_face()
    # profile 45 of 61: a face of its own
    with BuildSketch(Plane.XY):
        with BuildLine():
            ThreePointArc((19.474342094, -1), (18.545602068, -6.02583139), (16.342858961, -10.637714087))
            Line((16.342858961, -10.637714087), (18.367762872, -12.108892893))
            ThreePointArc((18.367762872, -12.108892893), (20.923243358, -6.798373876), (21.977260976, -1))
            Line((21.977260976, -1), (19.474342094, -1))
        make_face()
    # profile 46 of 61: a face of its own
    with BuildSketch(Plane.XY):
        with BuildLine():
            Line((18.367762872, -12.108892893), (16.342858961, -10.637714087))
            ThreePointArc((16.342858961, -10.637714087), (15.77583139, -11.46181242), (15.167288456, -12.255748075))
            Line((15.167288456, -12.255748075), (17.192192367, -13.726926882))
            ThreePointArc((17.192192367, -13.726926882), (17.798373876, -12.93127555), (18.367762872, -12.108892893))
        make_face()
    # profile 47 of 61: a face of its own
    with BuildSketch(Plane.XY):
        with BuildLine():
            ThreePointArc((6.968959178, 18.212182955), (11.46181242, 15.77583139), (15.167288456, 12.255748075))
            Line((15.167288456, 12.255748075), (17.192192367, 13.726926882))
            ThreePointArc((17.192192367, 13.726926882), (12.93127555, 17.798373876), (7.742403648, 20.592600267))
            Line((7.742403648, 20.592600267), (6.968959178, 18.212182955))
        make_face()
    # profile 48 of 61: a face of its own
    with BuildSketch(Plane.XY):
        with BuildLine():
            ThreePointArc((5.066846145, 18.830216944), (6.02583139, 18.545602068), (6.968959178, 18.212182955))
            Line((6.968959178, 18.212182955), (7.742403648, 20.592600267))
            ThreePointArc((7.742403648, 20.592600267), (6.798373876, 20.923243358), (5.840290615, 21.210634256))
            Line((5.840290615, 21.210634256), (5.066846145, 18.830216944))
        make_face()
    # profile 49 of 61: a face of its own
    with BuildSketch(Plane.XY):
        with BuildLine():
            ThreePointArc((-6.968959178, 18.212182955), (-6.02583139, 18.545602068), (-5.066846145, 18.830216944))
            Line((-5.066846145, 18.830216944), (-5.840290615, 21.210634256))
            ThreePointArc((-5.840290615, 21.210634256), (-6.798373876, 20.923243358), (-7.742403648, 20.592600267))
            Line((-7.742403648, 20.592600267), (-6.968959178, 18.212182955))
        make_face()
    # profile 50 of 61: a face of its own
    with BuildSketch(Plane.XY):
        with BuildLine():
            ThreePointArc((-15.167288456, 12.255748075), (-11.46181242, 15.77583139), (-6.968959178, 18.212182955))
            Line((-6.968959178, 18.212182955), (-7.742403648, 20.592600267))
            ThreePointArc((-7.742403648, 20.592600267), (-12.93127555, 17.798373876), (-17.192192367, 13.726926882))
            Line((-17.192192367, 13.726926882), (-15.167288456, 12.255748075))
        make_face()
    # profile 51 of 61: a face of its own
    with BuildSketch(Plane.XY):
        with BuildLine():
            ThreePointArc((-5.066846145, 18.830216944), (0, 19.5), (5.066846145, 18.830216944))
            Line((5.066846145, 18.830216944), (5.840290615, 21.210634256))
            ThreePointArc((5.840290615, 21.210634256), (0, 22), (-5.840290615, 21.210634256))
            Line((-5.840290615, 21.210634256), (-5.066846145, 18.830216944))
        make_face()
    # profile 52 of 61: a face of its own
    with BuildSketch(Plane.XY):
        with BuildLine():
            Line((-18.367762872, 12.108892893), (-16.342858961, 10.637714087))
            ThreePointArc((-16.342858961, 10.637714087), (-15.77583139, 11.46181242), (-15.167288456, 12.255748075))
            Line((-15.167288456, 12.255748075), (-17.192192367, 13.726926882))
            ThreePointArc((-17.192192367, 13.726926882), (-17.798373876, 12.93127555), (-18.367762872, 12.108892893))
        make_face()
    # profile 53 of 61: a face of its own
    with BuildSketch(Plane.XY):
        with BuildLine():
            Line((-21.977260976, 1), (-19.474342094, 1))
            ThreePointArc((-19.474342094, 1), (-18.545602068, 6.02583139), (-16.342858961, 10.637714087))
            Line((-16.342858961, 10.637714087), (-18.367762872, 12.108892893))
            ThreePointArc((-18.367762872, 12.108892893), (-20.923243358, 6.798373876), (-21.977260976, 1))
        make_face()
    # profile 54 of 61: a face of its own
    with BuildSketch(Plane.XY):
        with BuildLine():
            Line((-18.367762872, -12.108892893), (-16.342858961, -10.637714087))
            ThreePointArc((-16.342858961, -10.637714087), (-18.545602068, -6.02583139), (-19.474342094, -1))
            Line((-19.474342094, -1), (-21.977260976, -1))
            ThreePointArc((-21.977260976, -1), (-20.923243358, -6.798373876), (-18.367762872, -12.108892893))
        make_face()
    # profile 55 of 61: a face of its own
    with BuildSketch(Plane.XY):
        with BuildLine():
            Line((-21.977260976, -1), (-19.474342094, -1))
            ThreePointArc((-19.474342094, -1), (-19.5, 0), (-19.474342094, 1))
            Line((-19.474342094, 1), (-21.977260976, 1))
            ThreePointArc((-21.977260976, 1), (-22, 0), (-21.977260976, -1))
        make_face()
    # profile 56 of 61: a face of its own
    with BuildSketch(Plane.XY):
        with BuildLine():
            ThreePointArc((-6.968959178, -18.212182955), (-11.46181242, -15.77583139), (-15.167288456, -12.255748075))
            Line((-15.167288456, -12.255748075), (-17.192192367, -13.726926882))
            ThreePointArc((-17.192192367, -13.726926882), (-12.93127555, -17.798373876), (-7.742403648, -20.592600267))
            Line((-7.742403648, -20.592600267), (-6.968959178, -18.212182955))
        make_face()
    # profile 57 of 61: a face of its own
    with BuildSketch(Plane.XY):
        with BuildLine():
            ThreePointArc((-6.736878839, -17.497913119), (-11.02097348, -15.169068645), (-14.559694243, -11.814305039))
            Line((-14.559694243, -11.814305039), (-15.167288456, -12.255748075))
            ThreePointArc((-15.167288456, -12.255748075), (-11.46181242, -15.77583139), (-6.968959178, -18.212182955))
            Line((-6.968959178, -18.212182955), (-6.736878839, -17.497913119))
        make_face()
    # profile 58 of 61: a face of its own
    with BuildSketch(Plane.XY):
        with BuildLine():
            Line((-5.066846145, -18.830216944), (-4.834765807, -18.115947107))
            ThreePointArc((-4.834765807, -18.115947107), (-5.794068645, -17.832309681), (-6.736878839, -17.497913119))
            Line((-6.736878839, -17.497913119), (-6.968959178, -18.212182955))
            ThreePointArc((-6.968959178, -18.212182955), (-6.02583139, -18.545602068), (-5.066846145, -18.830216944))
        make_face()
    # profile 59 of 61: a face of its own
    with BuildSketch(Plane.XY):
        with BuildLine():
            Line((5.066846145, -18.830216944), (4.834765807, -18.115947107))
            ThreePointArc((4.834765807, -18.115947107), (0, -18.75), (-4.834765807, -18.115947107))
            Line((-4.834765807, -18.115947107), (-5.066846145, -18.830216944))
            ThreePointArc((-5.066846145, -18.830216944), (0, -19.5), (5.066846145, -18.830216944))
        make_face()
    # profile 60 of 61: a face of its own
    with BuildSketch(Plane.XY):
        with BuildLine():
            Line((6.968959178, -18.212182955), (6.736878839, -17.497913119))
            ThreePointArc((6.736878839, -17.497913119), (5.794068645, -17.832309681), (4.834765807, -18.115947107))
            Line((4.834765807, -18.115947107), (5.066846145, -18.830216944))
            ThreePointArc((5.066846145, -18.830216944), (6.02583139, -18.545602068), (6.968959178, -18.212182955))
        make_face()
    # profile 61 of 61: a face of its own
    with BuildSketch(Plane.XY):
        with BuildLine():
            ThreePointArc((4.469792035, -10.520537382), (3.841677281, -7.656601684), (1.582669817, -5.7875))
            ThreePointArc((1.582669817, -5.7875), (0, -6), (-1.582669817, -5.7875))
            ThreePointArc((-1.582669817, -5.7875), (-3.841677281, -7.656601684), (-4.469792035, -10.520537382))
            ThreePointArc((-4.469792035, -10.520537382), (-4.06221109, -11.936089115), (-3.219339867, -13.144177288))
            ThreePointArc((-3.219339867, -13.144177288), (0, -14.5), (3.219339867, -13.144177288))
            ThreePointArc((3.219339867, -13.144177288), (4.06221109, -11.936089115), (4.469792035, -10.520537382))
        make_face()
        with Locations((0, -10)):
            Circle(ESQUISSE1_R_3, mode=Mode.SUBTRACT)
    extrude(amount=BOSS_EXTRU_1_DEPTH)

    # Esquisse3 → Boss.-Extru.2 (add)
    with BuildSketch(Plane.XY.offset(6).offset(BOSS_EXTRU_2_START)):
        Circle(ESQUISSE3_R)
        Circle(ESQUISSE3_R_2, mode=Mode.SUBTRACT)
    extrude(amount=BOSS_EXTRU_2_DEPTH)


solid = part.part
